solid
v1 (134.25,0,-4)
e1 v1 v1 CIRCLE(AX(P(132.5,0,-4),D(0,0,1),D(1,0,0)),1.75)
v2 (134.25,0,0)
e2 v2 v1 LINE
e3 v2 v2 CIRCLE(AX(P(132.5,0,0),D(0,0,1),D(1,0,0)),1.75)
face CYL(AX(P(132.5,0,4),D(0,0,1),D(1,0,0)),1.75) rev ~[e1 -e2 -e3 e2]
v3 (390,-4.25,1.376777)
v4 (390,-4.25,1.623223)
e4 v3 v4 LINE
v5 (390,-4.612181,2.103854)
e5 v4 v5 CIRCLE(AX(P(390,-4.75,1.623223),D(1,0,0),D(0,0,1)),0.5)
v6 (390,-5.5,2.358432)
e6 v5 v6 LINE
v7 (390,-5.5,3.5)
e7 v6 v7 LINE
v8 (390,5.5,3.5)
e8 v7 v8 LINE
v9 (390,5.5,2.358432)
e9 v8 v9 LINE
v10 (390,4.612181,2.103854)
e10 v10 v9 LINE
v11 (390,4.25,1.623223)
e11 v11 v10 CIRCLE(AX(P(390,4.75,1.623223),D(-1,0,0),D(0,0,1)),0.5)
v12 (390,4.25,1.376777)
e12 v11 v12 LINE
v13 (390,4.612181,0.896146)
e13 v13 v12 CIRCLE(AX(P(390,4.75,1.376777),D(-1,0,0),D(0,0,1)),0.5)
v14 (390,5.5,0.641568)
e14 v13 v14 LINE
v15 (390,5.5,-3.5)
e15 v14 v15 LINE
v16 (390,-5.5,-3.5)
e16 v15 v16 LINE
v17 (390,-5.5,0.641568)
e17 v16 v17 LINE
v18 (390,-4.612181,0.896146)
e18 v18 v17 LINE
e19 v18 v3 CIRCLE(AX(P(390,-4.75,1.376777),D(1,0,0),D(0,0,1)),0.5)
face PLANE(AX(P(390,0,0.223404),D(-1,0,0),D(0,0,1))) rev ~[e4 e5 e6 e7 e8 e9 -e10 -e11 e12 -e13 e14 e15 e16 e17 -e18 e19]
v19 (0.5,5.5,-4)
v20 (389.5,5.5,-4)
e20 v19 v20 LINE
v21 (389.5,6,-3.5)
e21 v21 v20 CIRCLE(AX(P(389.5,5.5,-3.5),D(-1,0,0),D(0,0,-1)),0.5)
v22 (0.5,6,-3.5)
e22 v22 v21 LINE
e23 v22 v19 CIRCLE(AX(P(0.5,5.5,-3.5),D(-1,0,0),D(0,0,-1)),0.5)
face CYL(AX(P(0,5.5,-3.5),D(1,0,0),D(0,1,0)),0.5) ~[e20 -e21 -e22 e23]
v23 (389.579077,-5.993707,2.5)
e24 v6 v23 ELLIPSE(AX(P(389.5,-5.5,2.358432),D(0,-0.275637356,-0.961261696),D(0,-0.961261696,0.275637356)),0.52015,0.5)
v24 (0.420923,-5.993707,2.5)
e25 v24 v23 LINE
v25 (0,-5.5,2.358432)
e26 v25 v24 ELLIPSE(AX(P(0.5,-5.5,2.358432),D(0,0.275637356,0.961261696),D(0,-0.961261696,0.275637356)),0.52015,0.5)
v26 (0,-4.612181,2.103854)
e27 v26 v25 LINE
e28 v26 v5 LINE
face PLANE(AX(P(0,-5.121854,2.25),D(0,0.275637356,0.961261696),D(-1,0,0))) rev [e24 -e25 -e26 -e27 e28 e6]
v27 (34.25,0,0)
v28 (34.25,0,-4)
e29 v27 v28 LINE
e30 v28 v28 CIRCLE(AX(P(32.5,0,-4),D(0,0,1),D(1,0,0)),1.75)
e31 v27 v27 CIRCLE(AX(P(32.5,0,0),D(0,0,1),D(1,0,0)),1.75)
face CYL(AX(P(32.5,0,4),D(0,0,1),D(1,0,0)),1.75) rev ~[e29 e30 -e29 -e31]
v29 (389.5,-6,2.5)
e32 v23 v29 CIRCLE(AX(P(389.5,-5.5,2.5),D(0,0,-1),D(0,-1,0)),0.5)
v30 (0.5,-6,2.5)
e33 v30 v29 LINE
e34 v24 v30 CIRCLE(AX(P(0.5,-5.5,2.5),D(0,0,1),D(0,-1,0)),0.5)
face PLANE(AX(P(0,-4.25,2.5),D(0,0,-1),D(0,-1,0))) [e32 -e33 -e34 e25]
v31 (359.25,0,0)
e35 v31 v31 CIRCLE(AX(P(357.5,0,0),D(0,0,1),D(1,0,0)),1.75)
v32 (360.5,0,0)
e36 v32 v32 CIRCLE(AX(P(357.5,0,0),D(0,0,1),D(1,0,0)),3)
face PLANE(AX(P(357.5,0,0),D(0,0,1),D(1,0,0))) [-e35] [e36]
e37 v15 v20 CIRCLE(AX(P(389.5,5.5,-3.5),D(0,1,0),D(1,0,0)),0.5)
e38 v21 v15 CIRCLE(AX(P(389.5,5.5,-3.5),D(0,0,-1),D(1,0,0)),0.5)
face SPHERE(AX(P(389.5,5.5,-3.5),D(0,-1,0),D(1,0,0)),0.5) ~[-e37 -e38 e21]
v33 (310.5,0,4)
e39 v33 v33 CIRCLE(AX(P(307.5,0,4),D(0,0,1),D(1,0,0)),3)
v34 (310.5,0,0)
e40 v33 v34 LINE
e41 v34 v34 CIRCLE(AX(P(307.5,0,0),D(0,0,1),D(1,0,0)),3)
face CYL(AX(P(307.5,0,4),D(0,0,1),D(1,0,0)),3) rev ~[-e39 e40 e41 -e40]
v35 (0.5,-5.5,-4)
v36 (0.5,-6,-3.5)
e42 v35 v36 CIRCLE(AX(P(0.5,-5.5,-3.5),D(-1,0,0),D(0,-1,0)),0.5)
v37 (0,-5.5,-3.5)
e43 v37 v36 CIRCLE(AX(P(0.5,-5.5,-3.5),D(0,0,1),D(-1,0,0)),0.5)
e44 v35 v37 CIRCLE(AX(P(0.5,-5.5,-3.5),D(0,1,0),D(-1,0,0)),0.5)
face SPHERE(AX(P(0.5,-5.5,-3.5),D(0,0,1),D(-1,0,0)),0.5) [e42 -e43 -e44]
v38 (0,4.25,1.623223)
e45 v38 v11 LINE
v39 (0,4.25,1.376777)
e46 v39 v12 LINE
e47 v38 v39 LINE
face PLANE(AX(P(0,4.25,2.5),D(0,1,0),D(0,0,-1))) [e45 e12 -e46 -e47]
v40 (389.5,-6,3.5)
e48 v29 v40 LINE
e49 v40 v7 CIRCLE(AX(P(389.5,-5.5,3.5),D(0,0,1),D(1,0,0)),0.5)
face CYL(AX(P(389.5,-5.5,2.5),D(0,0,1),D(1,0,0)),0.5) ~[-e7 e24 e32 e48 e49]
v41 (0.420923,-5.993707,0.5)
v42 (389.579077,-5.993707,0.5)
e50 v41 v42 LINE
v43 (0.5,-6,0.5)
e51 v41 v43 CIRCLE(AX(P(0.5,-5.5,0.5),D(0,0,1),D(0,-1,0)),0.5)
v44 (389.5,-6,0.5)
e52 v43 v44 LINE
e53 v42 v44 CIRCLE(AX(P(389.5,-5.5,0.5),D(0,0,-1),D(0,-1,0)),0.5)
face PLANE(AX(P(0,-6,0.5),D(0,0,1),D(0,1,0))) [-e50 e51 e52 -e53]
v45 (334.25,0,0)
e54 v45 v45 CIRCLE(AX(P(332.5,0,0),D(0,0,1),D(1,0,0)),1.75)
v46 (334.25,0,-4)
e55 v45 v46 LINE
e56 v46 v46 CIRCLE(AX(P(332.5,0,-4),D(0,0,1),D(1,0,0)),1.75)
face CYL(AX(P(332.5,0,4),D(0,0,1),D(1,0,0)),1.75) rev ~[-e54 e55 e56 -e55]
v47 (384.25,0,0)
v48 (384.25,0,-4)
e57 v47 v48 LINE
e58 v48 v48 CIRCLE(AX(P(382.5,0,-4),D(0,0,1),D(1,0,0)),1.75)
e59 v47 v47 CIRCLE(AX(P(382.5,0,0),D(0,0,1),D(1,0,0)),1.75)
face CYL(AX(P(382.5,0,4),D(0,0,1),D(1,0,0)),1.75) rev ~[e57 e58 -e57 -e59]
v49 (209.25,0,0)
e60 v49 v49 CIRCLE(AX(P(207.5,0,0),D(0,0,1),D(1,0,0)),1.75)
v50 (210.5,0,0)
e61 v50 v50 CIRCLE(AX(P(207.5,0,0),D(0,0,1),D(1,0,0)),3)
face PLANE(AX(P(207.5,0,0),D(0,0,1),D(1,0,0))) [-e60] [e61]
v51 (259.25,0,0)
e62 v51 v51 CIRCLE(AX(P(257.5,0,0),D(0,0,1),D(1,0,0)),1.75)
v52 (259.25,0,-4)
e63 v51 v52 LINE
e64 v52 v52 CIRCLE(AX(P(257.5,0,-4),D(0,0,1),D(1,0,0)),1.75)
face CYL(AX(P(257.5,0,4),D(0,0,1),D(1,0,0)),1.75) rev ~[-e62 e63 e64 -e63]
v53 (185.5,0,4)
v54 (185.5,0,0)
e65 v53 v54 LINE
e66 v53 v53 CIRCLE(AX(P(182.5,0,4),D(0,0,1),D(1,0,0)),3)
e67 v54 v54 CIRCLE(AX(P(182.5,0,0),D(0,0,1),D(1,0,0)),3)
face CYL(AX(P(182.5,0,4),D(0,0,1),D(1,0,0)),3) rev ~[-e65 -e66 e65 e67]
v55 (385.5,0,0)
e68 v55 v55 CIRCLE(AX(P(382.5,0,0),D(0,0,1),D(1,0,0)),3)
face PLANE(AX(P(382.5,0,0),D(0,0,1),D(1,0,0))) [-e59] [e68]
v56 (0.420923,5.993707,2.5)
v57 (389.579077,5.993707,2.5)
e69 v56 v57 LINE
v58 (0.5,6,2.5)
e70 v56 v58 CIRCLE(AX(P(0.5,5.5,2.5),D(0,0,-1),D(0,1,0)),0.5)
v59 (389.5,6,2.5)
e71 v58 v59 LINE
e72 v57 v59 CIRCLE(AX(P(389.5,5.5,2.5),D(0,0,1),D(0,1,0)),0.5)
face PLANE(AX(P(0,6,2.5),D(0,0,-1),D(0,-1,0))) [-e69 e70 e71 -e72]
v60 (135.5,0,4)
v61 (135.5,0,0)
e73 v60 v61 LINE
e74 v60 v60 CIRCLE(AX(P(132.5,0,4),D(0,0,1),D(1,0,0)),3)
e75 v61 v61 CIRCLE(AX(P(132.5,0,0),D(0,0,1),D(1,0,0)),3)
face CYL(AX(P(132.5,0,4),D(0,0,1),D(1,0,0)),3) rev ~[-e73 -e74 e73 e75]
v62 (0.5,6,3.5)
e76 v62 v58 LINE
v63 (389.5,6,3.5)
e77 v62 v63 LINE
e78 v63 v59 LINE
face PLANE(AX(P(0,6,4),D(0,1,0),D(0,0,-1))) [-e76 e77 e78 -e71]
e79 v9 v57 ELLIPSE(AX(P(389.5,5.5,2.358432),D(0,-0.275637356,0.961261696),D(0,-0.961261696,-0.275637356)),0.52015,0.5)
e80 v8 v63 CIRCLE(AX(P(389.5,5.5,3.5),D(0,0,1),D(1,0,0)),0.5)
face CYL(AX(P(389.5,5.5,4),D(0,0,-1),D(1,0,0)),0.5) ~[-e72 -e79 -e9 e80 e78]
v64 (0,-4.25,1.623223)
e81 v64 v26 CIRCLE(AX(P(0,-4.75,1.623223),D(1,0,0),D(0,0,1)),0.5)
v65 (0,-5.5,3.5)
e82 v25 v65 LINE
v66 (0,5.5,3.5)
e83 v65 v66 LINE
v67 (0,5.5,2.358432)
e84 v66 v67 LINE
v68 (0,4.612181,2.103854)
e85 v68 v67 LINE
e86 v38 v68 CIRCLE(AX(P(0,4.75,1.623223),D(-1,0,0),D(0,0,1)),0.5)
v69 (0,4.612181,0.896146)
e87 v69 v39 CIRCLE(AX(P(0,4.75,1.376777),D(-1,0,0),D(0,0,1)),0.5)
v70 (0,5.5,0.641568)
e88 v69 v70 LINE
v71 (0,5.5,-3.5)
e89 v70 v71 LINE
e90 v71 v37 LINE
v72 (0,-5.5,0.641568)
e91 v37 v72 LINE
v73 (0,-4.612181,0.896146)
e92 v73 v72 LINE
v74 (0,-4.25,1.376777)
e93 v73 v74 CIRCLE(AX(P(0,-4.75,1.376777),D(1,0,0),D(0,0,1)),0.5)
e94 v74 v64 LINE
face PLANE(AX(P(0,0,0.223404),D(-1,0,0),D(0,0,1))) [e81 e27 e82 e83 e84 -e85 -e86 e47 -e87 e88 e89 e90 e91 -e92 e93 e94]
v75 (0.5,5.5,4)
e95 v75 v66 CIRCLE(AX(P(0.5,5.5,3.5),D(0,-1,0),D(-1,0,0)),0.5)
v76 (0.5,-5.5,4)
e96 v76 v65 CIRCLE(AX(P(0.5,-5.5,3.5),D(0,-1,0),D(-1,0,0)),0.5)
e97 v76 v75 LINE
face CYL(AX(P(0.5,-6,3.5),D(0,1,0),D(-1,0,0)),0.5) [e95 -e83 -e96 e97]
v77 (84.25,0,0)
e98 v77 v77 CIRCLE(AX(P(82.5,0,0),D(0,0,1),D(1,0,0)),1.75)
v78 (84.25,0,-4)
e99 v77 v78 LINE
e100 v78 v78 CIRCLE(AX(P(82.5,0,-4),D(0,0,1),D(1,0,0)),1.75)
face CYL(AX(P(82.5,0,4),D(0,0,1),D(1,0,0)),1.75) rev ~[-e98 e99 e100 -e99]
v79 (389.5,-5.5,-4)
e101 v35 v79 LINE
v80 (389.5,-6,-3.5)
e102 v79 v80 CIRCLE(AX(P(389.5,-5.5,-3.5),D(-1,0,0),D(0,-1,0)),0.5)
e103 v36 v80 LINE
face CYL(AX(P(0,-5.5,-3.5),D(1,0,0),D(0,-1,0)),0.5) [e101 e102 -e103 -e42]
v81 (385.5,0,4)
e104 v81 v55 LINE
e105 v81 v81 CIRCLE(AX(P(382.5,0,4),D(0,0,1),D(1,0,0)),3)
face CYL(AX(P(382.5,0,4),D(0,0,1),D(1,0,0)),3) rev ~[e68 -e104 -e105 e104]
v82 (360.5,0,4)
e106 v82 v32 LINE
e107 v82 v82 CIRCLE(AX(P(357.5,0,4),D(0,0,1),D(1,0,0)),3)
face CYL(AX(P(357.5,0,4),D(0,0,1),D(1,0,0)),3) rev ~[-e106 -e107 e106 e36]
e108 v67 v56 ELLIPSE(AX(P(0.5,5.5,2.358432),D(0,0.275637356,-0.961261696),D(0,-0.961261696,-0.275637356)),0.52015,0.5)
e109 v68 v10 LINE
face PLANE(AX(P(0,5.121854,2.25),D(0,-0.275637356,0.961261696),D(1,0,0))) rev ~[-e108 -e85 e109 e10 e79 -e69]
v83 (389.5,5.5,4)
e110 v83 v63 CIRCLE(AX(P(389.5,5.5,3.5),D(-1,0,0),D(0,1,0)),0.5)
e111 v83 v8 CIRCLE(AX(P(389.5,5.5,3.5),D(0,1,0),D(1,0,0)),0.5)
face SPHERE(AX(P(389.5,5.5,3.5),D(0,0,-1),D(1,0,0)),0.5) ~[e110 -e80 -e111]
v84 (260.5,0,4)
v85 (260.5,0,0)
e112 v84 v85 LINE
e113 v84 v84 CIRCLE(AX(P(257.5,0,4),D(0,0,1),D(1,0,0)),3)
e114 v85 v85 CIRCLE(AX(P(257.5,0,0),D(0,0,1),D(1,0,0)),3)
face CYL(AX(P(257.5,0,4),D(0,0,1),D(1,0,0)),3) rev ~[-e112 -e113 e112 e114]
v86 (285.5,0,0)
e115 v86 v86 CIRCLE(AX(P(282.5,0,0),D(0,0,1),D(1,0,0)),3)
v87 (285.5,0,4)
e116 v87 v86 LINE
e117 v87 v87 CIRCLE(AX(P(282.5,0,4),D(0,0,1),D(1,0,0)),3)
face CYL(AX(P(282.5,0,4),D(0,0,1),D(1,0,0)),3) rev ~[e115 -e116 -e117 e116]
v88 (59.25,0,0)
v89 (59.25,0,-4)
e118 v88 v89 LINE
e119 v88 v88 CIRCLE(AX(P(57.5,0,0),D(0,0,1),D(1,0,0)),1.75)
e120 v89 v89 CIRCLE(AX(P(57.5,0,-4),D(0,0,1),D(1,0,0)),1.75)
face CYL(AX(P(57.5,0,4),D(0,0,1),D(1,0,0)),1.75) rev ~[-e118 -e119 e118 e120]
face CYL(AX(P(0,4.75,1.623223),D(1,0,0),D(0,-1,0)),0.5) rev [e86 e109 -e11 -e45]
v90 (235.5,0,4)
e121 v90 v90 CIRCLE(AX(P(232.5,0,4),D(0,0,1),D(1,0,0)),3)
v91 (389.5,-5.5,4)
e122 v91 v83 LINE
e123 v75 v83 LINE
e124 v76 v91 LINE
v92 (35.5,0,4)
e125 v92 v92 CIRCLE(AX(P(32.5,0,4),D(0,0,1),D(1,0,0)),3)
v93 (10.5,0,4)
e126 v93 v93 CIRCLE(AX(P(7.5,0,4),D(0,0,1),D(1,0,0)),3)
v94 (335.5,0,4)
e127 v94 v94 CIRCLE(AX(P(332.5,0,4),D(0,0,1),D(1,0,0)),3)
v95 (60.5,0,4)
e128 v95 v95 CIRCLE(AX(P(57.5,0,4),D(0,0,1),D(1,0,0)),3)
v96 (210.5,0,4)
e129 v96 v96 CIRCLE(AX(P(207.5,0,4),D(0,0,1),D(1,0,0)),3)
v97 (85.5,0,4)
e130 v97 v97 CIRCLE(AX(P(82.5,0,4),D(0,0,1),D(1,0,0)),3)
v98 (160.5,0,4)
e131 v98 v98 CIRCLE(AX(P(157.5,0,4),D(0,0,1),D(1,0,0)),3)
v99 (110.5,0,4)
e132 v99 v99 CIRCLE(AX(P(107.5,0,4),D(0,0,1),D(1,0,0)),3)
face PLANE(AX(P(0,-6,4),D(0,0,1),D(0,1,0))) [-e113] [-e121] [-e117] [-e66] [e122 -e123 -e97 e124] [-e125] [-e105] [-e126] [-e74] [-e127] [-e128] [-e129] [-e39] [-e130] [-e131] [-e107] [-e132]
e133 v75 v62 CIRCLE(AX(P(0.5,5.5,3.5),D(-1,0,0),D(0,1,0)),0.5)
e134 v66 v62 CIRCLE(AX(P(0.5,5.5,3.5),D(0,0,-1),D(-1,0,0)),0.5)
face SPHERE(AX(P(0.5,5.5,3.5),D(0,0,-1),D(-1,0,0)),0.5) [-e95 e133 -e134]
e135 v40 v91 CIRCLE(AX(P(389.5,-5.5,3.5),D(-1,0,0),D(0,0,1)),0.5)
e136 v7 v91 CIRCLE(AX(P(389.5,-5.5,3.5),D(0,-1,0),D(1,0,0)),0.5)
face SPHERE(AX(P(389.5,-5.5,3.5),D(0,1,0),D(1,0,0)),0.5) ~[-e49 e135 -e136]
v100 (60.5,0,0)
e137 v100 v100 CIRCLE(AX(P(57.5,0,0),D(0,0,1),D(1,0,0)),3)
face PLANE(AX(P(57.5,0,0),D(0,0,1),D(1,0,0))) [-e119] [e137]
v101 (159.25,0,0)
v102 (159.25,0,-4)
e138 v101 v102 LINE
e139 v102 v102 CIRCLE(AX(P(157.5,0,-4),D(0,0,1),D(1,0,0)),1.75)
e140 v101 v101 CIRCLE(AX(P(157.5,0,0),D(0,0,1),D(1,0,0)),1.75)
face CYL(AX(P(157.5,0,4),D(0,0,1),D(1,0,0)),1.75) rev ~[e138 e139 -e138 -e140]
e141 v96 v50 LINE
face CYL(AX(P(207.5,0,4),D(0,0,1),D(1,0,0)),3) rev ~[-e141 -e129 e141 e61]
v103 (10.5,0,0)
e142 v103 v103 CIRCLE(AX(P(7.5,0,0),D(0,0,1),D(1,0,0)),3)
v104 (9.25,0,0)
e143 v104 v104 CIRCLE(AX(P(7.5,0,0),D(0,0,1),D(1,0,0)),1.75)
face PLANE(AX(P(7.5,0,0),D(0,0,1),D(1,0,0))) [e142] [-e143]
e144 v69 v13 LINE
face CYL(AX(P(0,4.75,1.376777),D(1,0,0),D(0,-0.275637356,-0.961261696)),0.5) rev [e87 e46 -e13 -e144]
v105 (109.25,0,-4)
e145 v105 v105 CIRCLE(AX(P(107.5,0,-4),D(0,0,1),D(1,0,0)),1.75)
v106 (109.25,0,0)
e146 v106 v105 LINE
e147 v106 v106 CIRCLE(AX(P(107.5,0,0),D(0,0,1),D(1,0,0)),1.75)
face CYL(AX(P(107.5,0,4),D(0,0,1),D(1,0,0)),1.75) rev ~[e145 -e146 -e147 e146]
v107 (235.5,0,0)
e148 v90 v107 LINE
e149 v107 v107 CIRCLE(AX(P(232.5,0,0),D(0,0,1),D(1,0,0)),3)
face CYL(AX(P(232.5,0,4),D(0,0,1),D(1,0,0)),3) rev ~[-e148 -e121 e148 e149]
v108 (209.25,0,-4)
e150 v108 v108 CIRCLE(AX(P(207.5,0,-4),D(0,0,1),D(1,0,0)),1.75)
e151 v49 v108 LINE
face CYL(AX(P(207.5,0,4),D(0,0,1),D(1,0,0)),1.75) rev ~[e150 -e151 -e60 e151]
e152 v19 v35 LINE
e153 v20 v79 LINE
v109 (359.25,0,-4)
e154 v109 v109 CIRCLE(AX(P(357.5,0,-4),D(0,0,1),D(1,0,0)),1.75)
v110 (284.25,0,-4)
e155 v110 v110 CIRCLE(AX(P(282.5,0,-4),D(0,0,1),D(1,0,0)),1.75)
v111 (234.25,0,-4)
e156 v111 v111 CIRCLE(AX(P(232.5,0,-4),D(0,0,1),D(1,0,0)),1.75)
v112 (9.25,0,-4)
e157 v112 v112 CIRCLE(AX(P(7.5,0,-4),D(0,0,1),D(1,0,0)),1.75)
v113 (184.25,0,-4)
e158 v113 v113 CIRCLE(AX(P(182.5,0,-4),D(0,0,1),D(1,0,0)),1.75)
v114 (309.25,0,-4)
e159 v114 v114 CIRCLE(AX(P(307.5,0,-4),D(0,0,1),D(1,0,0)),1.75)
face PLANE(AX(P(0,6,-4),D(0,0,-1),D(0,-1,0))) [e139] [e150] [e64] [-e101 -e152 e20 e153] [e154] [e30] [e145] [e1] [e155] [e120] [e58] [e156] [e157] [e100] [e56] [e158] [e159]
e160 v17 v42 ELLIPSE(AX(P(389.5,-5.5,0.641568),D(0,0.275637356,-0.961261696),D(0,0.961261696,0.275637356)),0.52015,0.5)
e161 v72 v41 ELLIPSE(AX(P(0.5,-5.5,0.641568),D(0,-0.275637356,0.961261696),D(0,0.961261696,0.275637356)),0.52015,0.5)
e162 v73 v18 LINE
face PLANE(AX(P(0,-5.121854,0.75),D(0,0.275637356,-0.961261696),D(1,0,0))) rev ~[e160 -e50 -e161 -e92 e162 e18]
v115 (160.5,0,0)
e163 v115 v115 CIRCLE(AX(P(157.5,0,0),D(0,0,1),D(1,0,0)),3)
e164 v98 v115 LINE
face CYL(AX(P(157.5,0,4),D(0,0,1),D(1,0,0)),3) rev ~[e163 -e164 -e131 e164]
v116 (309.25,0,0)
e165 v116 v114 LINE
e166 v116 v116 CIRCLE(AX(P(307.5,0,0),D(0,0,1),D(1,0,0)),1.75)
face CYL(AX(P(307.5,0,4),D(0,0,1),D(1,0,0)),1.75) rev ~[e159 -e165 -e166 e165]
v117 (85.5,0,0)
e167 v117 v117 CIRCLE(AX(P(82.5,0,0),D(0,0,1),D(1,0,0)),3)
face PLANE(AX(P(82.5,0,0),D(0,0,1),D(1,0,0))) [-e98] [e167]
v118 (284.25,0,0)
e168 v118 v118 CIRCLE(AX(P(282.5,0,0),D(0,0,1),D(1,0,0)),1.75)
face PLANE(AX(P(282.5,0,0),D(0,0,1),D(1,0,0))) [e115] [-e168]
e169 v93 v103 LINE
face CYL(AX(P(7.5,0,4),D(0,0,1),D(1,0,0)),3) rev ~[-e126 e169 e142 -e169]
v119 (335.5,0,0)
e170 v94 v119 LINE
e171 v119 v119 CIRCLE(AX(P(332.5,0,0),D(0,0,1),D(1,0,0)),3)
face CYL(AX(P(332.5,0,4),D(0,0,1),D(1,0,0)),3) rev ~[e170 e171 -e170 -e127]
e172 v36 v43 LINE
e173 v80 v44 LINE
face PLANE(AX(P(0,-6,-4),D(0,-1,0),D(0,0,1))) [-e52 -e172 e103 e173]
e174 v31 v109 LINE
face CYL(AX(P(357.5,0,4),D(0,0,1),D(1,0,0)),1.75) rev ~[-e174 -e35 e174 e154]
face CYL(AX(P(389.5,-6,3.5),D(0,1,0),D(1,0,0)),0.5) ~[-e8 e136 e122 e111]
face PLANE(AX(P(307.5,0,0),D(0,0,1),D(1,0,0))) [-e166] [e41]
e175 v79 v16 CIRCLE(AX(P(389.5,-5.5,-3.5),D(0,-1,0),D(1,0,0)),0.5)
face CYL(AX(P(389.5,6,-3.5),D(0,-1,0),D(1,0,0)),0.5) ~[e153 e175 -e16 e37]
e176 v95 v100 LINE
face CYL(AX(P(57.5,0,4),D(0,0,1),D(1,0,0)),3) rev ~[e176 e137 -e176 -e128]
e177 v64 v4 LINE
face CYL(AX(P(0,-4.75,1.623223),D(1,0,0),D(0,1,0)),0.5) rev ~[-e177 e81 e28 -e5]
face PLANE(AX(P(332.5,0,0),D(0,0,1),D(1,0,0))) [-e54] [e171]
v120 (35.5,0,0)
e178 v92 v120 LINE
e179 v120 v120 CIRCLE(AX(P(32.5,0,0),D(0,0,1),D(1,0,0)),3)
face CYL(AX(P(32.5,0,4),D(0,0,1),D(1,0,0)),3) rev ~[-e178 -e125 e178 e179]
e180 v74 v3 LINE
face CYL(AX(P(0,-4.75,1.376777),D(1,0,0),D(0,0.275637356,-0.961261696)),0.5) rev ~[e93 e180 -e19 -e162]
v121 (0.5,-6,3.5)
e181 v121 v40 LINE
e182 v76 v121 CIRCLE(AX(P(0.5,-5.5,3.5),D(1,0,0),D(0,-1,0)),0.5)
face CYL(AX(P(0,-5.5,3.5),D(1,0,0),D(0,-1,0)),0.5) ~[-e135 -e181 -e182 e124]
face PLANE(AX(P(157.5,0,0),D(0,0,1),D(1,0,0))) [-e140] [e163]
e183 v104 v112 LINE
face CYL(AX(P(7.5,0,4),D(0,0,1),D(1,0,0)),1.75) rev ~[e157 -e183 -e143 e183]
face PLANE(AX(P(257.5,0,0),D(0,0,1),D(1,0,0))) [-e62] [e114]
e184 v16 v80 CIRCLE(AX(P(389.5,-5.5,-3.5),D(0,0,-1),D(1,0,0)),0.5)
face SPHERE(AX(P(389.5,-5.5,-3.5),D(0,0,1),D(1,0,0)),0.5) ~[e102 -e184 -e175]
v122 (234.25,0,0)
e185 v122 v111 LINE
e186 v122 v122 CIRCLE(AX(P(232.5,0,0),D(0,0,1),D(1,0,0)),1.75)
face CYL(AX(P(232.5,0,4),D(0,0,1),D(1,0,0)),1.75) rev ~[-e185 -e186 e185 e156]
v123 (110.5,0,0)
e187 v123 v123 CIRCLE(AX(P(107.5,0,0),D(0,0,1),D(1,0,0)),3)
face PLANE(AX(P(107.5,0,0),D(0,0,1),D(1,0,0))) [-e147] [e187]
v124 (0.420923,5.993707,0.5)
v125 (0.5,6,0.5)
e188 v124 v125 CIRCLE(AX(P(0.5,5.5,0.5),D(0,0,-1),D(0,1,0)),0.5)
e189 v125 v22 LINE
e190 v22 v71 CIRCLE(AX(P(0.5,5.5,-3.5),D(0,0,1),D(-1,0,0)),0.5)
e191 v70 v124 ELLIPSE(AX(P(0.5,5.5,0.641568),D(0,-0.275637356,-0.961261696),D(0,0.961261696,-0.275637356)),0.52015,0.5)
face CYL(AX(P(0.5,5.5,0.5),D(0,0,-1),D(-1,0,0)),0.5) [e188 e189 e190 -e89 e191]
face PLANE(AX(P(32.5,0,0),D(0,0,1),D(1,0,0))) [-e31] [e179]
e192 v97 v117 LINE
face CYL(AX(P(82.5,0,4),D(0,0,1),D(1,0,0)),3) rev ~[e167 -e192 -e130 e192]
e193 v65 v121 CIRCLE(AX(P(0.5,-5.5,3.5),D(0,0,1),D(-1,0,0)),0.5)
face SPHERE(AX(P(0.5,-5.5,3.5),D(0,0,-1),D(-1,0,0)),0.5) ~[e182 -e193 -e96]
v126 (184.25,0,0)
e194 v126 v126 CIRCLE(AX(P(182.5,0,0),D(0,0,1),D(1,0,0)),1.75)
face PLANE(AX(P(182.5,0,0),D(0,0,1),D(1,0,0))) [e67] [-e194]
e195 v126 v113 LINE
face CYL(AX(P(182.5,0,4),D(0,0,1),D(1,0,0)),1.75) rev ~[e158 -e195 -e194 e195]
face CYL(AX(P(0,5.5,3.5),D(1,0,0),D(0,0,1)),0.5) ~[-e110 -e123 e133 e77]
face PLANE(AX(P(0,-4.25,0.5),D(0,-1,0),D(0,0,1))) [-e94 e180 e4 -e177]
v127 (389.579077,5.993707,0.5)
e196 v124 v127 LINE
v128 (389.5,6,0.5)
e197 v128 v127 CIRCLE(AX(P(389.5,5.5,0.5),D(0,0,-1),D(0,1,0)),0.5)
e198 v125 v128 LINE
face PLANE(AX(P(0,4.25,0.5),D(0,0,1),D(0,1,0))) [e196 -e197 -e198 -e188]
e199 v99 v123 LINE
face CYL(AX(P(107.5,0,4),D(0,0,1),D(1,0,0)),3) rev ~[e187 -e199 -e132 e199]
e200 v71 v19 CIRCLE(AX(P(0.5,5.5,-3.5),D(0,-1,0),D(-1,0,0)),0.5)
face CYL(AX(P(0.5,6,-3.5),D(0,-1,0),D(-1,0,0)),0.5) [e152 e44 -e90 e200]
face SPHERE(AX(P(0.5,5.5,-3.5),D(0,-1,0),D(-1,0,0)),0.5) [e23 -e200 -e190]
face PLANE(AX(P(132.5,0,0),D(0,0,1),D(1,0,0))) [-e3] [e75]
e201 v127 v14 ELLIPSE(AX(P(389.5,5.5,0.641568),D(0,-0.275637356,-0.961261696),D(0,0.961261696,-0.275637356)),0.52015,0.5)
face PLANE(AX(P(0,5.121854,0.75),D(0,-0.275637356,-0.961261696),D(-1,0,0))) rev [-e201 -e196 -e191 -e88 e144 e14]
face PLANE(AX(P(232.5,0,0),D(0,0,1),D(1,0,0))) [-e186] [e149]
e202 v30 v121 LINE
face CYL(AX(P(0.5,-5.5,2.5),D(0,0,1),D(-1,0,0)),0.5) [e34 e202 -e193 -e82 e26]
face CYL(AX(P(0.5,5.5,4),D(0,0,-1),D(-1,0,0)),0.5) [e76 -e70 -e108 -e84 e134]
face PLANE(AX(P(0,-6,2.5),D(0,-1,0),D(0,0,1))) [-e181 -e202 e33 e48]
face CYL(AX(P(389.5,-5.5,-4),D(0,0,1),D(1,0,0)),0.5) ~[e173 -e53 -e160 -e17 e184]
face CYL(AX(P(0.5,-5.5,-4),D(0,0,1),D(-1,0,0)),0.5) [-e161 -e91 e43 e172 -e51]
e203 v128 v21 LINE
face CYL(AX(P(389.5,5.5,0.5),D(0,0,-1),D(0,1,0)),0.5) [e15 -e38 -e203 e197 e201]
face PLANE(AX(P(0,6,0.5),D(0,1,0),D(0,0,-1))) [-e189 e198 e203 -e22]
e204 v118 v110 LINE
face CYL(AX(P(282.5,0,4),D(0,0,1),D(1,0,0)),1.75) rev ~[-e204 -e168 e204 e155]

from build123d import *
from OCP.BRepFilletAPI import BRepFilletAPI_MakeChamfer

# Parameters (mm, degrees)
BOSS_EXTRUDE1_DEPTH = 390
SKETCH2_R           = 1.75
CUT_EXTRUDE1_DEPTH  = 10
SKETCH3_R           = 3
CUT_EXTRUDE2_DEPTH  = 4
CHAMFER1_SIZE       = 0.5
CHAMFER1_SIZE2      = 1.743707222
FILLET1_R           = 0.5


with BuildPart() as part:
    # Sketch1 → Boss-Extrude1 (new body)
    with BuildSketch(Plane(origin=(0, 0, 0), x_dir=(0, 0, -1), z_dir=(1, 0, 0))):
        Polygon((-0.5, 6), (4, 6), (4, -6), (-0.5, -6), (-0.5, -4.25), (-2.5, -4.25), (-2.5, -6), (-4, -6), (-4, 6), (-2.5, 6), (-2.5, 4.25), (-0.5, 4.25), align=None)
    extrude(amount=BOSS_EXTRUDE1_DEPTH)

    # Sketch2 → Cut-Extrude1 (cut)
    with BuildSketch(Plane.XY.offset(4)):
        with Locations((7.5, 0)):
            Circle(SKETCH2_R)
        with Locations((32.5, 0)):
            Circle(SKETCH2_R)
        with Locations((57.5, 0)):
            Circle(SKETCH2_R)
        with Locations((82.5, 0)):
            Circle(SKETCH2_R)
        with Locations((107.5, 0)):
            Circle(SKETCH2_R)
        with Locations((132.5, 0)):
            Circle(SKETCH2_R)
        with Locations((157.5, 0)):
            Circle(SKETCH2_R)
        with Locations((182.5, 0)):
            Circle(SKETCH2_R)
        with Locations((207.5, 0)):
            Circle(SKETCH2_R)
        with Locations((232.5, 0)):
            Circle(SKETCH2_R)
        with Locations((257.5, 0)):
            Circle(SKETCH2_R)
        with Locations((282.5, 0)):
            Circle(SKETCH2_R)
        with Locations((307.5, 0)):
            Circle(SKETCH2_R)
        with Locations((332.5, 0)):
            Circle(SKETCH2_R)
        with Locations((357.5, 0)):
            Circle(SKETCH2_R)
        with Locations((382.5, 0)):
            Circle(SKETCH2_R)
    extrude(amount=-CUT_EXTRUDE1_DEPTH, mode=Mode.SUBTRACT)

    # Sketch3 → Cut-Extrude2 (cut)
    with BuildSketch(Plane.XY.offset(4)):
        with Locations((7.5, 0)):
            Circle(SKETCH3_R)
        with Locations((32.5, 0)):
            Circle(SKETCH3_R)
        with Locations((57.5, 0)):
            Circle(SKETCH3_R)
        with Locations((82.5, 0)):
            Circle(SKETCH3_R)
        with Locations((107.5, 0)):
            Circle(SKETCH3_R)
        with Locations((132.5, 0)):
            Circle(SKETCH3_R)
        with Locations((157.5, 0)):
            Circle(SKETCH3_R)
        with Locations((182.5, 0)):
            Circle(SKETCH3_R)
        with Locations((207.5, 0)):
            Circle(SKETCH3_R)
        with Locations((232.5, 0)):
            Circle(SKETCH3_R)
        with Locations((257.5, 0)):
            Circle(SKETCH3_R)
        with Locations((282.5, 0)):
            Circle(SKETCH3_R)
        with Locations((307.5, 0)):
            Circle(SKETCH3_R)
        with Locations((332.5, 0)):
            Circle(SKETCH3_R)
        with Locations((357.5, 0)):
            Circle(SKETCH3_R)
        with Locations((382.5, 0)):
            Circle(SKETCH3_R)
    extrude(amount=-CUT_EXTRUDE2_DEPTH, mode=Mode.SUBTRACT)

    # Chamfer1: one chamfer whose edges measure the first distance from different faces: ONE call of the kernel's chamfer builder (chamfer() names one face for all edges)
    chamfer1_edges_1 = [part.edges().sort_by_distance(p)[0] for p in [
        (195, -4.25, 0.5),
        (195, -4.25, 2.5),
    ]]
    chamfer1_side_1 = [part.faces().sort_by_distance(p)[0] for p in [
        (195, -4.25, 1.5),
    ]]
    chamfer1_edges_2 = [part.edges().sort_by_distance(p)[0] for p in [
        (195, 4.25, 2.5),
        (195, 4.25, 0.5),
    ]]
    chamfer1_side_2 = [part.faces().sort_by_distance(p)[0] for p in [
        (195, 4.25, 1.5),
    ]]
    chamfer1 = BRepFilletAPI_MakeChamfer(part.part.solid().wrapped)
    for e in chamfer1_edges_1:
        chamfer1.Add(CHAMFER1_SIZE, CHAMFER1_SIZE2, e.wrapped, chamfer1_side_1[0].wrapped)  # the first distance lies on this face
    for e in chamfer1_edges_2:
        chamfer1.Add(CHAMFER1_SIZE, CHAMFER1_SIZE2, e.wrapped, chamfer1_side_2[0].wrapped)  # the first distance lies on this face
    add(Compound.cast(chamfer1.Shape()), mode=Mode.REPLACE)

    # Fillet1
    fillet1_edges = [part.edges().sort_by_distance(p)[0] for p in [
        (390, -6, -1.75),
        (390, 0, -4),
        (390, 6, -1.75),
        (390, 6, 3.25),
        (390, 0, 4),
        (390, -6, 3.25),
        (0, -6, 3.25),
        (0, -6, -1.75),
        (0, 0, -4),
        (0, 6, -1.75),
        (0, 6, 3.25),
        (0, 0, 4),
        (195, -4.25, 1),
        (195, -4.25, 2),
        (195, 4.25, 2),
        (195, 4.25, 1),
        (195, -6, 4),
        (195, 6, 4),
        (195, -6, -4),
        (195, 6, -4),
    ]]
    fillet(fillet1_edges, radius=FILLET1_R)


solid = part.part
